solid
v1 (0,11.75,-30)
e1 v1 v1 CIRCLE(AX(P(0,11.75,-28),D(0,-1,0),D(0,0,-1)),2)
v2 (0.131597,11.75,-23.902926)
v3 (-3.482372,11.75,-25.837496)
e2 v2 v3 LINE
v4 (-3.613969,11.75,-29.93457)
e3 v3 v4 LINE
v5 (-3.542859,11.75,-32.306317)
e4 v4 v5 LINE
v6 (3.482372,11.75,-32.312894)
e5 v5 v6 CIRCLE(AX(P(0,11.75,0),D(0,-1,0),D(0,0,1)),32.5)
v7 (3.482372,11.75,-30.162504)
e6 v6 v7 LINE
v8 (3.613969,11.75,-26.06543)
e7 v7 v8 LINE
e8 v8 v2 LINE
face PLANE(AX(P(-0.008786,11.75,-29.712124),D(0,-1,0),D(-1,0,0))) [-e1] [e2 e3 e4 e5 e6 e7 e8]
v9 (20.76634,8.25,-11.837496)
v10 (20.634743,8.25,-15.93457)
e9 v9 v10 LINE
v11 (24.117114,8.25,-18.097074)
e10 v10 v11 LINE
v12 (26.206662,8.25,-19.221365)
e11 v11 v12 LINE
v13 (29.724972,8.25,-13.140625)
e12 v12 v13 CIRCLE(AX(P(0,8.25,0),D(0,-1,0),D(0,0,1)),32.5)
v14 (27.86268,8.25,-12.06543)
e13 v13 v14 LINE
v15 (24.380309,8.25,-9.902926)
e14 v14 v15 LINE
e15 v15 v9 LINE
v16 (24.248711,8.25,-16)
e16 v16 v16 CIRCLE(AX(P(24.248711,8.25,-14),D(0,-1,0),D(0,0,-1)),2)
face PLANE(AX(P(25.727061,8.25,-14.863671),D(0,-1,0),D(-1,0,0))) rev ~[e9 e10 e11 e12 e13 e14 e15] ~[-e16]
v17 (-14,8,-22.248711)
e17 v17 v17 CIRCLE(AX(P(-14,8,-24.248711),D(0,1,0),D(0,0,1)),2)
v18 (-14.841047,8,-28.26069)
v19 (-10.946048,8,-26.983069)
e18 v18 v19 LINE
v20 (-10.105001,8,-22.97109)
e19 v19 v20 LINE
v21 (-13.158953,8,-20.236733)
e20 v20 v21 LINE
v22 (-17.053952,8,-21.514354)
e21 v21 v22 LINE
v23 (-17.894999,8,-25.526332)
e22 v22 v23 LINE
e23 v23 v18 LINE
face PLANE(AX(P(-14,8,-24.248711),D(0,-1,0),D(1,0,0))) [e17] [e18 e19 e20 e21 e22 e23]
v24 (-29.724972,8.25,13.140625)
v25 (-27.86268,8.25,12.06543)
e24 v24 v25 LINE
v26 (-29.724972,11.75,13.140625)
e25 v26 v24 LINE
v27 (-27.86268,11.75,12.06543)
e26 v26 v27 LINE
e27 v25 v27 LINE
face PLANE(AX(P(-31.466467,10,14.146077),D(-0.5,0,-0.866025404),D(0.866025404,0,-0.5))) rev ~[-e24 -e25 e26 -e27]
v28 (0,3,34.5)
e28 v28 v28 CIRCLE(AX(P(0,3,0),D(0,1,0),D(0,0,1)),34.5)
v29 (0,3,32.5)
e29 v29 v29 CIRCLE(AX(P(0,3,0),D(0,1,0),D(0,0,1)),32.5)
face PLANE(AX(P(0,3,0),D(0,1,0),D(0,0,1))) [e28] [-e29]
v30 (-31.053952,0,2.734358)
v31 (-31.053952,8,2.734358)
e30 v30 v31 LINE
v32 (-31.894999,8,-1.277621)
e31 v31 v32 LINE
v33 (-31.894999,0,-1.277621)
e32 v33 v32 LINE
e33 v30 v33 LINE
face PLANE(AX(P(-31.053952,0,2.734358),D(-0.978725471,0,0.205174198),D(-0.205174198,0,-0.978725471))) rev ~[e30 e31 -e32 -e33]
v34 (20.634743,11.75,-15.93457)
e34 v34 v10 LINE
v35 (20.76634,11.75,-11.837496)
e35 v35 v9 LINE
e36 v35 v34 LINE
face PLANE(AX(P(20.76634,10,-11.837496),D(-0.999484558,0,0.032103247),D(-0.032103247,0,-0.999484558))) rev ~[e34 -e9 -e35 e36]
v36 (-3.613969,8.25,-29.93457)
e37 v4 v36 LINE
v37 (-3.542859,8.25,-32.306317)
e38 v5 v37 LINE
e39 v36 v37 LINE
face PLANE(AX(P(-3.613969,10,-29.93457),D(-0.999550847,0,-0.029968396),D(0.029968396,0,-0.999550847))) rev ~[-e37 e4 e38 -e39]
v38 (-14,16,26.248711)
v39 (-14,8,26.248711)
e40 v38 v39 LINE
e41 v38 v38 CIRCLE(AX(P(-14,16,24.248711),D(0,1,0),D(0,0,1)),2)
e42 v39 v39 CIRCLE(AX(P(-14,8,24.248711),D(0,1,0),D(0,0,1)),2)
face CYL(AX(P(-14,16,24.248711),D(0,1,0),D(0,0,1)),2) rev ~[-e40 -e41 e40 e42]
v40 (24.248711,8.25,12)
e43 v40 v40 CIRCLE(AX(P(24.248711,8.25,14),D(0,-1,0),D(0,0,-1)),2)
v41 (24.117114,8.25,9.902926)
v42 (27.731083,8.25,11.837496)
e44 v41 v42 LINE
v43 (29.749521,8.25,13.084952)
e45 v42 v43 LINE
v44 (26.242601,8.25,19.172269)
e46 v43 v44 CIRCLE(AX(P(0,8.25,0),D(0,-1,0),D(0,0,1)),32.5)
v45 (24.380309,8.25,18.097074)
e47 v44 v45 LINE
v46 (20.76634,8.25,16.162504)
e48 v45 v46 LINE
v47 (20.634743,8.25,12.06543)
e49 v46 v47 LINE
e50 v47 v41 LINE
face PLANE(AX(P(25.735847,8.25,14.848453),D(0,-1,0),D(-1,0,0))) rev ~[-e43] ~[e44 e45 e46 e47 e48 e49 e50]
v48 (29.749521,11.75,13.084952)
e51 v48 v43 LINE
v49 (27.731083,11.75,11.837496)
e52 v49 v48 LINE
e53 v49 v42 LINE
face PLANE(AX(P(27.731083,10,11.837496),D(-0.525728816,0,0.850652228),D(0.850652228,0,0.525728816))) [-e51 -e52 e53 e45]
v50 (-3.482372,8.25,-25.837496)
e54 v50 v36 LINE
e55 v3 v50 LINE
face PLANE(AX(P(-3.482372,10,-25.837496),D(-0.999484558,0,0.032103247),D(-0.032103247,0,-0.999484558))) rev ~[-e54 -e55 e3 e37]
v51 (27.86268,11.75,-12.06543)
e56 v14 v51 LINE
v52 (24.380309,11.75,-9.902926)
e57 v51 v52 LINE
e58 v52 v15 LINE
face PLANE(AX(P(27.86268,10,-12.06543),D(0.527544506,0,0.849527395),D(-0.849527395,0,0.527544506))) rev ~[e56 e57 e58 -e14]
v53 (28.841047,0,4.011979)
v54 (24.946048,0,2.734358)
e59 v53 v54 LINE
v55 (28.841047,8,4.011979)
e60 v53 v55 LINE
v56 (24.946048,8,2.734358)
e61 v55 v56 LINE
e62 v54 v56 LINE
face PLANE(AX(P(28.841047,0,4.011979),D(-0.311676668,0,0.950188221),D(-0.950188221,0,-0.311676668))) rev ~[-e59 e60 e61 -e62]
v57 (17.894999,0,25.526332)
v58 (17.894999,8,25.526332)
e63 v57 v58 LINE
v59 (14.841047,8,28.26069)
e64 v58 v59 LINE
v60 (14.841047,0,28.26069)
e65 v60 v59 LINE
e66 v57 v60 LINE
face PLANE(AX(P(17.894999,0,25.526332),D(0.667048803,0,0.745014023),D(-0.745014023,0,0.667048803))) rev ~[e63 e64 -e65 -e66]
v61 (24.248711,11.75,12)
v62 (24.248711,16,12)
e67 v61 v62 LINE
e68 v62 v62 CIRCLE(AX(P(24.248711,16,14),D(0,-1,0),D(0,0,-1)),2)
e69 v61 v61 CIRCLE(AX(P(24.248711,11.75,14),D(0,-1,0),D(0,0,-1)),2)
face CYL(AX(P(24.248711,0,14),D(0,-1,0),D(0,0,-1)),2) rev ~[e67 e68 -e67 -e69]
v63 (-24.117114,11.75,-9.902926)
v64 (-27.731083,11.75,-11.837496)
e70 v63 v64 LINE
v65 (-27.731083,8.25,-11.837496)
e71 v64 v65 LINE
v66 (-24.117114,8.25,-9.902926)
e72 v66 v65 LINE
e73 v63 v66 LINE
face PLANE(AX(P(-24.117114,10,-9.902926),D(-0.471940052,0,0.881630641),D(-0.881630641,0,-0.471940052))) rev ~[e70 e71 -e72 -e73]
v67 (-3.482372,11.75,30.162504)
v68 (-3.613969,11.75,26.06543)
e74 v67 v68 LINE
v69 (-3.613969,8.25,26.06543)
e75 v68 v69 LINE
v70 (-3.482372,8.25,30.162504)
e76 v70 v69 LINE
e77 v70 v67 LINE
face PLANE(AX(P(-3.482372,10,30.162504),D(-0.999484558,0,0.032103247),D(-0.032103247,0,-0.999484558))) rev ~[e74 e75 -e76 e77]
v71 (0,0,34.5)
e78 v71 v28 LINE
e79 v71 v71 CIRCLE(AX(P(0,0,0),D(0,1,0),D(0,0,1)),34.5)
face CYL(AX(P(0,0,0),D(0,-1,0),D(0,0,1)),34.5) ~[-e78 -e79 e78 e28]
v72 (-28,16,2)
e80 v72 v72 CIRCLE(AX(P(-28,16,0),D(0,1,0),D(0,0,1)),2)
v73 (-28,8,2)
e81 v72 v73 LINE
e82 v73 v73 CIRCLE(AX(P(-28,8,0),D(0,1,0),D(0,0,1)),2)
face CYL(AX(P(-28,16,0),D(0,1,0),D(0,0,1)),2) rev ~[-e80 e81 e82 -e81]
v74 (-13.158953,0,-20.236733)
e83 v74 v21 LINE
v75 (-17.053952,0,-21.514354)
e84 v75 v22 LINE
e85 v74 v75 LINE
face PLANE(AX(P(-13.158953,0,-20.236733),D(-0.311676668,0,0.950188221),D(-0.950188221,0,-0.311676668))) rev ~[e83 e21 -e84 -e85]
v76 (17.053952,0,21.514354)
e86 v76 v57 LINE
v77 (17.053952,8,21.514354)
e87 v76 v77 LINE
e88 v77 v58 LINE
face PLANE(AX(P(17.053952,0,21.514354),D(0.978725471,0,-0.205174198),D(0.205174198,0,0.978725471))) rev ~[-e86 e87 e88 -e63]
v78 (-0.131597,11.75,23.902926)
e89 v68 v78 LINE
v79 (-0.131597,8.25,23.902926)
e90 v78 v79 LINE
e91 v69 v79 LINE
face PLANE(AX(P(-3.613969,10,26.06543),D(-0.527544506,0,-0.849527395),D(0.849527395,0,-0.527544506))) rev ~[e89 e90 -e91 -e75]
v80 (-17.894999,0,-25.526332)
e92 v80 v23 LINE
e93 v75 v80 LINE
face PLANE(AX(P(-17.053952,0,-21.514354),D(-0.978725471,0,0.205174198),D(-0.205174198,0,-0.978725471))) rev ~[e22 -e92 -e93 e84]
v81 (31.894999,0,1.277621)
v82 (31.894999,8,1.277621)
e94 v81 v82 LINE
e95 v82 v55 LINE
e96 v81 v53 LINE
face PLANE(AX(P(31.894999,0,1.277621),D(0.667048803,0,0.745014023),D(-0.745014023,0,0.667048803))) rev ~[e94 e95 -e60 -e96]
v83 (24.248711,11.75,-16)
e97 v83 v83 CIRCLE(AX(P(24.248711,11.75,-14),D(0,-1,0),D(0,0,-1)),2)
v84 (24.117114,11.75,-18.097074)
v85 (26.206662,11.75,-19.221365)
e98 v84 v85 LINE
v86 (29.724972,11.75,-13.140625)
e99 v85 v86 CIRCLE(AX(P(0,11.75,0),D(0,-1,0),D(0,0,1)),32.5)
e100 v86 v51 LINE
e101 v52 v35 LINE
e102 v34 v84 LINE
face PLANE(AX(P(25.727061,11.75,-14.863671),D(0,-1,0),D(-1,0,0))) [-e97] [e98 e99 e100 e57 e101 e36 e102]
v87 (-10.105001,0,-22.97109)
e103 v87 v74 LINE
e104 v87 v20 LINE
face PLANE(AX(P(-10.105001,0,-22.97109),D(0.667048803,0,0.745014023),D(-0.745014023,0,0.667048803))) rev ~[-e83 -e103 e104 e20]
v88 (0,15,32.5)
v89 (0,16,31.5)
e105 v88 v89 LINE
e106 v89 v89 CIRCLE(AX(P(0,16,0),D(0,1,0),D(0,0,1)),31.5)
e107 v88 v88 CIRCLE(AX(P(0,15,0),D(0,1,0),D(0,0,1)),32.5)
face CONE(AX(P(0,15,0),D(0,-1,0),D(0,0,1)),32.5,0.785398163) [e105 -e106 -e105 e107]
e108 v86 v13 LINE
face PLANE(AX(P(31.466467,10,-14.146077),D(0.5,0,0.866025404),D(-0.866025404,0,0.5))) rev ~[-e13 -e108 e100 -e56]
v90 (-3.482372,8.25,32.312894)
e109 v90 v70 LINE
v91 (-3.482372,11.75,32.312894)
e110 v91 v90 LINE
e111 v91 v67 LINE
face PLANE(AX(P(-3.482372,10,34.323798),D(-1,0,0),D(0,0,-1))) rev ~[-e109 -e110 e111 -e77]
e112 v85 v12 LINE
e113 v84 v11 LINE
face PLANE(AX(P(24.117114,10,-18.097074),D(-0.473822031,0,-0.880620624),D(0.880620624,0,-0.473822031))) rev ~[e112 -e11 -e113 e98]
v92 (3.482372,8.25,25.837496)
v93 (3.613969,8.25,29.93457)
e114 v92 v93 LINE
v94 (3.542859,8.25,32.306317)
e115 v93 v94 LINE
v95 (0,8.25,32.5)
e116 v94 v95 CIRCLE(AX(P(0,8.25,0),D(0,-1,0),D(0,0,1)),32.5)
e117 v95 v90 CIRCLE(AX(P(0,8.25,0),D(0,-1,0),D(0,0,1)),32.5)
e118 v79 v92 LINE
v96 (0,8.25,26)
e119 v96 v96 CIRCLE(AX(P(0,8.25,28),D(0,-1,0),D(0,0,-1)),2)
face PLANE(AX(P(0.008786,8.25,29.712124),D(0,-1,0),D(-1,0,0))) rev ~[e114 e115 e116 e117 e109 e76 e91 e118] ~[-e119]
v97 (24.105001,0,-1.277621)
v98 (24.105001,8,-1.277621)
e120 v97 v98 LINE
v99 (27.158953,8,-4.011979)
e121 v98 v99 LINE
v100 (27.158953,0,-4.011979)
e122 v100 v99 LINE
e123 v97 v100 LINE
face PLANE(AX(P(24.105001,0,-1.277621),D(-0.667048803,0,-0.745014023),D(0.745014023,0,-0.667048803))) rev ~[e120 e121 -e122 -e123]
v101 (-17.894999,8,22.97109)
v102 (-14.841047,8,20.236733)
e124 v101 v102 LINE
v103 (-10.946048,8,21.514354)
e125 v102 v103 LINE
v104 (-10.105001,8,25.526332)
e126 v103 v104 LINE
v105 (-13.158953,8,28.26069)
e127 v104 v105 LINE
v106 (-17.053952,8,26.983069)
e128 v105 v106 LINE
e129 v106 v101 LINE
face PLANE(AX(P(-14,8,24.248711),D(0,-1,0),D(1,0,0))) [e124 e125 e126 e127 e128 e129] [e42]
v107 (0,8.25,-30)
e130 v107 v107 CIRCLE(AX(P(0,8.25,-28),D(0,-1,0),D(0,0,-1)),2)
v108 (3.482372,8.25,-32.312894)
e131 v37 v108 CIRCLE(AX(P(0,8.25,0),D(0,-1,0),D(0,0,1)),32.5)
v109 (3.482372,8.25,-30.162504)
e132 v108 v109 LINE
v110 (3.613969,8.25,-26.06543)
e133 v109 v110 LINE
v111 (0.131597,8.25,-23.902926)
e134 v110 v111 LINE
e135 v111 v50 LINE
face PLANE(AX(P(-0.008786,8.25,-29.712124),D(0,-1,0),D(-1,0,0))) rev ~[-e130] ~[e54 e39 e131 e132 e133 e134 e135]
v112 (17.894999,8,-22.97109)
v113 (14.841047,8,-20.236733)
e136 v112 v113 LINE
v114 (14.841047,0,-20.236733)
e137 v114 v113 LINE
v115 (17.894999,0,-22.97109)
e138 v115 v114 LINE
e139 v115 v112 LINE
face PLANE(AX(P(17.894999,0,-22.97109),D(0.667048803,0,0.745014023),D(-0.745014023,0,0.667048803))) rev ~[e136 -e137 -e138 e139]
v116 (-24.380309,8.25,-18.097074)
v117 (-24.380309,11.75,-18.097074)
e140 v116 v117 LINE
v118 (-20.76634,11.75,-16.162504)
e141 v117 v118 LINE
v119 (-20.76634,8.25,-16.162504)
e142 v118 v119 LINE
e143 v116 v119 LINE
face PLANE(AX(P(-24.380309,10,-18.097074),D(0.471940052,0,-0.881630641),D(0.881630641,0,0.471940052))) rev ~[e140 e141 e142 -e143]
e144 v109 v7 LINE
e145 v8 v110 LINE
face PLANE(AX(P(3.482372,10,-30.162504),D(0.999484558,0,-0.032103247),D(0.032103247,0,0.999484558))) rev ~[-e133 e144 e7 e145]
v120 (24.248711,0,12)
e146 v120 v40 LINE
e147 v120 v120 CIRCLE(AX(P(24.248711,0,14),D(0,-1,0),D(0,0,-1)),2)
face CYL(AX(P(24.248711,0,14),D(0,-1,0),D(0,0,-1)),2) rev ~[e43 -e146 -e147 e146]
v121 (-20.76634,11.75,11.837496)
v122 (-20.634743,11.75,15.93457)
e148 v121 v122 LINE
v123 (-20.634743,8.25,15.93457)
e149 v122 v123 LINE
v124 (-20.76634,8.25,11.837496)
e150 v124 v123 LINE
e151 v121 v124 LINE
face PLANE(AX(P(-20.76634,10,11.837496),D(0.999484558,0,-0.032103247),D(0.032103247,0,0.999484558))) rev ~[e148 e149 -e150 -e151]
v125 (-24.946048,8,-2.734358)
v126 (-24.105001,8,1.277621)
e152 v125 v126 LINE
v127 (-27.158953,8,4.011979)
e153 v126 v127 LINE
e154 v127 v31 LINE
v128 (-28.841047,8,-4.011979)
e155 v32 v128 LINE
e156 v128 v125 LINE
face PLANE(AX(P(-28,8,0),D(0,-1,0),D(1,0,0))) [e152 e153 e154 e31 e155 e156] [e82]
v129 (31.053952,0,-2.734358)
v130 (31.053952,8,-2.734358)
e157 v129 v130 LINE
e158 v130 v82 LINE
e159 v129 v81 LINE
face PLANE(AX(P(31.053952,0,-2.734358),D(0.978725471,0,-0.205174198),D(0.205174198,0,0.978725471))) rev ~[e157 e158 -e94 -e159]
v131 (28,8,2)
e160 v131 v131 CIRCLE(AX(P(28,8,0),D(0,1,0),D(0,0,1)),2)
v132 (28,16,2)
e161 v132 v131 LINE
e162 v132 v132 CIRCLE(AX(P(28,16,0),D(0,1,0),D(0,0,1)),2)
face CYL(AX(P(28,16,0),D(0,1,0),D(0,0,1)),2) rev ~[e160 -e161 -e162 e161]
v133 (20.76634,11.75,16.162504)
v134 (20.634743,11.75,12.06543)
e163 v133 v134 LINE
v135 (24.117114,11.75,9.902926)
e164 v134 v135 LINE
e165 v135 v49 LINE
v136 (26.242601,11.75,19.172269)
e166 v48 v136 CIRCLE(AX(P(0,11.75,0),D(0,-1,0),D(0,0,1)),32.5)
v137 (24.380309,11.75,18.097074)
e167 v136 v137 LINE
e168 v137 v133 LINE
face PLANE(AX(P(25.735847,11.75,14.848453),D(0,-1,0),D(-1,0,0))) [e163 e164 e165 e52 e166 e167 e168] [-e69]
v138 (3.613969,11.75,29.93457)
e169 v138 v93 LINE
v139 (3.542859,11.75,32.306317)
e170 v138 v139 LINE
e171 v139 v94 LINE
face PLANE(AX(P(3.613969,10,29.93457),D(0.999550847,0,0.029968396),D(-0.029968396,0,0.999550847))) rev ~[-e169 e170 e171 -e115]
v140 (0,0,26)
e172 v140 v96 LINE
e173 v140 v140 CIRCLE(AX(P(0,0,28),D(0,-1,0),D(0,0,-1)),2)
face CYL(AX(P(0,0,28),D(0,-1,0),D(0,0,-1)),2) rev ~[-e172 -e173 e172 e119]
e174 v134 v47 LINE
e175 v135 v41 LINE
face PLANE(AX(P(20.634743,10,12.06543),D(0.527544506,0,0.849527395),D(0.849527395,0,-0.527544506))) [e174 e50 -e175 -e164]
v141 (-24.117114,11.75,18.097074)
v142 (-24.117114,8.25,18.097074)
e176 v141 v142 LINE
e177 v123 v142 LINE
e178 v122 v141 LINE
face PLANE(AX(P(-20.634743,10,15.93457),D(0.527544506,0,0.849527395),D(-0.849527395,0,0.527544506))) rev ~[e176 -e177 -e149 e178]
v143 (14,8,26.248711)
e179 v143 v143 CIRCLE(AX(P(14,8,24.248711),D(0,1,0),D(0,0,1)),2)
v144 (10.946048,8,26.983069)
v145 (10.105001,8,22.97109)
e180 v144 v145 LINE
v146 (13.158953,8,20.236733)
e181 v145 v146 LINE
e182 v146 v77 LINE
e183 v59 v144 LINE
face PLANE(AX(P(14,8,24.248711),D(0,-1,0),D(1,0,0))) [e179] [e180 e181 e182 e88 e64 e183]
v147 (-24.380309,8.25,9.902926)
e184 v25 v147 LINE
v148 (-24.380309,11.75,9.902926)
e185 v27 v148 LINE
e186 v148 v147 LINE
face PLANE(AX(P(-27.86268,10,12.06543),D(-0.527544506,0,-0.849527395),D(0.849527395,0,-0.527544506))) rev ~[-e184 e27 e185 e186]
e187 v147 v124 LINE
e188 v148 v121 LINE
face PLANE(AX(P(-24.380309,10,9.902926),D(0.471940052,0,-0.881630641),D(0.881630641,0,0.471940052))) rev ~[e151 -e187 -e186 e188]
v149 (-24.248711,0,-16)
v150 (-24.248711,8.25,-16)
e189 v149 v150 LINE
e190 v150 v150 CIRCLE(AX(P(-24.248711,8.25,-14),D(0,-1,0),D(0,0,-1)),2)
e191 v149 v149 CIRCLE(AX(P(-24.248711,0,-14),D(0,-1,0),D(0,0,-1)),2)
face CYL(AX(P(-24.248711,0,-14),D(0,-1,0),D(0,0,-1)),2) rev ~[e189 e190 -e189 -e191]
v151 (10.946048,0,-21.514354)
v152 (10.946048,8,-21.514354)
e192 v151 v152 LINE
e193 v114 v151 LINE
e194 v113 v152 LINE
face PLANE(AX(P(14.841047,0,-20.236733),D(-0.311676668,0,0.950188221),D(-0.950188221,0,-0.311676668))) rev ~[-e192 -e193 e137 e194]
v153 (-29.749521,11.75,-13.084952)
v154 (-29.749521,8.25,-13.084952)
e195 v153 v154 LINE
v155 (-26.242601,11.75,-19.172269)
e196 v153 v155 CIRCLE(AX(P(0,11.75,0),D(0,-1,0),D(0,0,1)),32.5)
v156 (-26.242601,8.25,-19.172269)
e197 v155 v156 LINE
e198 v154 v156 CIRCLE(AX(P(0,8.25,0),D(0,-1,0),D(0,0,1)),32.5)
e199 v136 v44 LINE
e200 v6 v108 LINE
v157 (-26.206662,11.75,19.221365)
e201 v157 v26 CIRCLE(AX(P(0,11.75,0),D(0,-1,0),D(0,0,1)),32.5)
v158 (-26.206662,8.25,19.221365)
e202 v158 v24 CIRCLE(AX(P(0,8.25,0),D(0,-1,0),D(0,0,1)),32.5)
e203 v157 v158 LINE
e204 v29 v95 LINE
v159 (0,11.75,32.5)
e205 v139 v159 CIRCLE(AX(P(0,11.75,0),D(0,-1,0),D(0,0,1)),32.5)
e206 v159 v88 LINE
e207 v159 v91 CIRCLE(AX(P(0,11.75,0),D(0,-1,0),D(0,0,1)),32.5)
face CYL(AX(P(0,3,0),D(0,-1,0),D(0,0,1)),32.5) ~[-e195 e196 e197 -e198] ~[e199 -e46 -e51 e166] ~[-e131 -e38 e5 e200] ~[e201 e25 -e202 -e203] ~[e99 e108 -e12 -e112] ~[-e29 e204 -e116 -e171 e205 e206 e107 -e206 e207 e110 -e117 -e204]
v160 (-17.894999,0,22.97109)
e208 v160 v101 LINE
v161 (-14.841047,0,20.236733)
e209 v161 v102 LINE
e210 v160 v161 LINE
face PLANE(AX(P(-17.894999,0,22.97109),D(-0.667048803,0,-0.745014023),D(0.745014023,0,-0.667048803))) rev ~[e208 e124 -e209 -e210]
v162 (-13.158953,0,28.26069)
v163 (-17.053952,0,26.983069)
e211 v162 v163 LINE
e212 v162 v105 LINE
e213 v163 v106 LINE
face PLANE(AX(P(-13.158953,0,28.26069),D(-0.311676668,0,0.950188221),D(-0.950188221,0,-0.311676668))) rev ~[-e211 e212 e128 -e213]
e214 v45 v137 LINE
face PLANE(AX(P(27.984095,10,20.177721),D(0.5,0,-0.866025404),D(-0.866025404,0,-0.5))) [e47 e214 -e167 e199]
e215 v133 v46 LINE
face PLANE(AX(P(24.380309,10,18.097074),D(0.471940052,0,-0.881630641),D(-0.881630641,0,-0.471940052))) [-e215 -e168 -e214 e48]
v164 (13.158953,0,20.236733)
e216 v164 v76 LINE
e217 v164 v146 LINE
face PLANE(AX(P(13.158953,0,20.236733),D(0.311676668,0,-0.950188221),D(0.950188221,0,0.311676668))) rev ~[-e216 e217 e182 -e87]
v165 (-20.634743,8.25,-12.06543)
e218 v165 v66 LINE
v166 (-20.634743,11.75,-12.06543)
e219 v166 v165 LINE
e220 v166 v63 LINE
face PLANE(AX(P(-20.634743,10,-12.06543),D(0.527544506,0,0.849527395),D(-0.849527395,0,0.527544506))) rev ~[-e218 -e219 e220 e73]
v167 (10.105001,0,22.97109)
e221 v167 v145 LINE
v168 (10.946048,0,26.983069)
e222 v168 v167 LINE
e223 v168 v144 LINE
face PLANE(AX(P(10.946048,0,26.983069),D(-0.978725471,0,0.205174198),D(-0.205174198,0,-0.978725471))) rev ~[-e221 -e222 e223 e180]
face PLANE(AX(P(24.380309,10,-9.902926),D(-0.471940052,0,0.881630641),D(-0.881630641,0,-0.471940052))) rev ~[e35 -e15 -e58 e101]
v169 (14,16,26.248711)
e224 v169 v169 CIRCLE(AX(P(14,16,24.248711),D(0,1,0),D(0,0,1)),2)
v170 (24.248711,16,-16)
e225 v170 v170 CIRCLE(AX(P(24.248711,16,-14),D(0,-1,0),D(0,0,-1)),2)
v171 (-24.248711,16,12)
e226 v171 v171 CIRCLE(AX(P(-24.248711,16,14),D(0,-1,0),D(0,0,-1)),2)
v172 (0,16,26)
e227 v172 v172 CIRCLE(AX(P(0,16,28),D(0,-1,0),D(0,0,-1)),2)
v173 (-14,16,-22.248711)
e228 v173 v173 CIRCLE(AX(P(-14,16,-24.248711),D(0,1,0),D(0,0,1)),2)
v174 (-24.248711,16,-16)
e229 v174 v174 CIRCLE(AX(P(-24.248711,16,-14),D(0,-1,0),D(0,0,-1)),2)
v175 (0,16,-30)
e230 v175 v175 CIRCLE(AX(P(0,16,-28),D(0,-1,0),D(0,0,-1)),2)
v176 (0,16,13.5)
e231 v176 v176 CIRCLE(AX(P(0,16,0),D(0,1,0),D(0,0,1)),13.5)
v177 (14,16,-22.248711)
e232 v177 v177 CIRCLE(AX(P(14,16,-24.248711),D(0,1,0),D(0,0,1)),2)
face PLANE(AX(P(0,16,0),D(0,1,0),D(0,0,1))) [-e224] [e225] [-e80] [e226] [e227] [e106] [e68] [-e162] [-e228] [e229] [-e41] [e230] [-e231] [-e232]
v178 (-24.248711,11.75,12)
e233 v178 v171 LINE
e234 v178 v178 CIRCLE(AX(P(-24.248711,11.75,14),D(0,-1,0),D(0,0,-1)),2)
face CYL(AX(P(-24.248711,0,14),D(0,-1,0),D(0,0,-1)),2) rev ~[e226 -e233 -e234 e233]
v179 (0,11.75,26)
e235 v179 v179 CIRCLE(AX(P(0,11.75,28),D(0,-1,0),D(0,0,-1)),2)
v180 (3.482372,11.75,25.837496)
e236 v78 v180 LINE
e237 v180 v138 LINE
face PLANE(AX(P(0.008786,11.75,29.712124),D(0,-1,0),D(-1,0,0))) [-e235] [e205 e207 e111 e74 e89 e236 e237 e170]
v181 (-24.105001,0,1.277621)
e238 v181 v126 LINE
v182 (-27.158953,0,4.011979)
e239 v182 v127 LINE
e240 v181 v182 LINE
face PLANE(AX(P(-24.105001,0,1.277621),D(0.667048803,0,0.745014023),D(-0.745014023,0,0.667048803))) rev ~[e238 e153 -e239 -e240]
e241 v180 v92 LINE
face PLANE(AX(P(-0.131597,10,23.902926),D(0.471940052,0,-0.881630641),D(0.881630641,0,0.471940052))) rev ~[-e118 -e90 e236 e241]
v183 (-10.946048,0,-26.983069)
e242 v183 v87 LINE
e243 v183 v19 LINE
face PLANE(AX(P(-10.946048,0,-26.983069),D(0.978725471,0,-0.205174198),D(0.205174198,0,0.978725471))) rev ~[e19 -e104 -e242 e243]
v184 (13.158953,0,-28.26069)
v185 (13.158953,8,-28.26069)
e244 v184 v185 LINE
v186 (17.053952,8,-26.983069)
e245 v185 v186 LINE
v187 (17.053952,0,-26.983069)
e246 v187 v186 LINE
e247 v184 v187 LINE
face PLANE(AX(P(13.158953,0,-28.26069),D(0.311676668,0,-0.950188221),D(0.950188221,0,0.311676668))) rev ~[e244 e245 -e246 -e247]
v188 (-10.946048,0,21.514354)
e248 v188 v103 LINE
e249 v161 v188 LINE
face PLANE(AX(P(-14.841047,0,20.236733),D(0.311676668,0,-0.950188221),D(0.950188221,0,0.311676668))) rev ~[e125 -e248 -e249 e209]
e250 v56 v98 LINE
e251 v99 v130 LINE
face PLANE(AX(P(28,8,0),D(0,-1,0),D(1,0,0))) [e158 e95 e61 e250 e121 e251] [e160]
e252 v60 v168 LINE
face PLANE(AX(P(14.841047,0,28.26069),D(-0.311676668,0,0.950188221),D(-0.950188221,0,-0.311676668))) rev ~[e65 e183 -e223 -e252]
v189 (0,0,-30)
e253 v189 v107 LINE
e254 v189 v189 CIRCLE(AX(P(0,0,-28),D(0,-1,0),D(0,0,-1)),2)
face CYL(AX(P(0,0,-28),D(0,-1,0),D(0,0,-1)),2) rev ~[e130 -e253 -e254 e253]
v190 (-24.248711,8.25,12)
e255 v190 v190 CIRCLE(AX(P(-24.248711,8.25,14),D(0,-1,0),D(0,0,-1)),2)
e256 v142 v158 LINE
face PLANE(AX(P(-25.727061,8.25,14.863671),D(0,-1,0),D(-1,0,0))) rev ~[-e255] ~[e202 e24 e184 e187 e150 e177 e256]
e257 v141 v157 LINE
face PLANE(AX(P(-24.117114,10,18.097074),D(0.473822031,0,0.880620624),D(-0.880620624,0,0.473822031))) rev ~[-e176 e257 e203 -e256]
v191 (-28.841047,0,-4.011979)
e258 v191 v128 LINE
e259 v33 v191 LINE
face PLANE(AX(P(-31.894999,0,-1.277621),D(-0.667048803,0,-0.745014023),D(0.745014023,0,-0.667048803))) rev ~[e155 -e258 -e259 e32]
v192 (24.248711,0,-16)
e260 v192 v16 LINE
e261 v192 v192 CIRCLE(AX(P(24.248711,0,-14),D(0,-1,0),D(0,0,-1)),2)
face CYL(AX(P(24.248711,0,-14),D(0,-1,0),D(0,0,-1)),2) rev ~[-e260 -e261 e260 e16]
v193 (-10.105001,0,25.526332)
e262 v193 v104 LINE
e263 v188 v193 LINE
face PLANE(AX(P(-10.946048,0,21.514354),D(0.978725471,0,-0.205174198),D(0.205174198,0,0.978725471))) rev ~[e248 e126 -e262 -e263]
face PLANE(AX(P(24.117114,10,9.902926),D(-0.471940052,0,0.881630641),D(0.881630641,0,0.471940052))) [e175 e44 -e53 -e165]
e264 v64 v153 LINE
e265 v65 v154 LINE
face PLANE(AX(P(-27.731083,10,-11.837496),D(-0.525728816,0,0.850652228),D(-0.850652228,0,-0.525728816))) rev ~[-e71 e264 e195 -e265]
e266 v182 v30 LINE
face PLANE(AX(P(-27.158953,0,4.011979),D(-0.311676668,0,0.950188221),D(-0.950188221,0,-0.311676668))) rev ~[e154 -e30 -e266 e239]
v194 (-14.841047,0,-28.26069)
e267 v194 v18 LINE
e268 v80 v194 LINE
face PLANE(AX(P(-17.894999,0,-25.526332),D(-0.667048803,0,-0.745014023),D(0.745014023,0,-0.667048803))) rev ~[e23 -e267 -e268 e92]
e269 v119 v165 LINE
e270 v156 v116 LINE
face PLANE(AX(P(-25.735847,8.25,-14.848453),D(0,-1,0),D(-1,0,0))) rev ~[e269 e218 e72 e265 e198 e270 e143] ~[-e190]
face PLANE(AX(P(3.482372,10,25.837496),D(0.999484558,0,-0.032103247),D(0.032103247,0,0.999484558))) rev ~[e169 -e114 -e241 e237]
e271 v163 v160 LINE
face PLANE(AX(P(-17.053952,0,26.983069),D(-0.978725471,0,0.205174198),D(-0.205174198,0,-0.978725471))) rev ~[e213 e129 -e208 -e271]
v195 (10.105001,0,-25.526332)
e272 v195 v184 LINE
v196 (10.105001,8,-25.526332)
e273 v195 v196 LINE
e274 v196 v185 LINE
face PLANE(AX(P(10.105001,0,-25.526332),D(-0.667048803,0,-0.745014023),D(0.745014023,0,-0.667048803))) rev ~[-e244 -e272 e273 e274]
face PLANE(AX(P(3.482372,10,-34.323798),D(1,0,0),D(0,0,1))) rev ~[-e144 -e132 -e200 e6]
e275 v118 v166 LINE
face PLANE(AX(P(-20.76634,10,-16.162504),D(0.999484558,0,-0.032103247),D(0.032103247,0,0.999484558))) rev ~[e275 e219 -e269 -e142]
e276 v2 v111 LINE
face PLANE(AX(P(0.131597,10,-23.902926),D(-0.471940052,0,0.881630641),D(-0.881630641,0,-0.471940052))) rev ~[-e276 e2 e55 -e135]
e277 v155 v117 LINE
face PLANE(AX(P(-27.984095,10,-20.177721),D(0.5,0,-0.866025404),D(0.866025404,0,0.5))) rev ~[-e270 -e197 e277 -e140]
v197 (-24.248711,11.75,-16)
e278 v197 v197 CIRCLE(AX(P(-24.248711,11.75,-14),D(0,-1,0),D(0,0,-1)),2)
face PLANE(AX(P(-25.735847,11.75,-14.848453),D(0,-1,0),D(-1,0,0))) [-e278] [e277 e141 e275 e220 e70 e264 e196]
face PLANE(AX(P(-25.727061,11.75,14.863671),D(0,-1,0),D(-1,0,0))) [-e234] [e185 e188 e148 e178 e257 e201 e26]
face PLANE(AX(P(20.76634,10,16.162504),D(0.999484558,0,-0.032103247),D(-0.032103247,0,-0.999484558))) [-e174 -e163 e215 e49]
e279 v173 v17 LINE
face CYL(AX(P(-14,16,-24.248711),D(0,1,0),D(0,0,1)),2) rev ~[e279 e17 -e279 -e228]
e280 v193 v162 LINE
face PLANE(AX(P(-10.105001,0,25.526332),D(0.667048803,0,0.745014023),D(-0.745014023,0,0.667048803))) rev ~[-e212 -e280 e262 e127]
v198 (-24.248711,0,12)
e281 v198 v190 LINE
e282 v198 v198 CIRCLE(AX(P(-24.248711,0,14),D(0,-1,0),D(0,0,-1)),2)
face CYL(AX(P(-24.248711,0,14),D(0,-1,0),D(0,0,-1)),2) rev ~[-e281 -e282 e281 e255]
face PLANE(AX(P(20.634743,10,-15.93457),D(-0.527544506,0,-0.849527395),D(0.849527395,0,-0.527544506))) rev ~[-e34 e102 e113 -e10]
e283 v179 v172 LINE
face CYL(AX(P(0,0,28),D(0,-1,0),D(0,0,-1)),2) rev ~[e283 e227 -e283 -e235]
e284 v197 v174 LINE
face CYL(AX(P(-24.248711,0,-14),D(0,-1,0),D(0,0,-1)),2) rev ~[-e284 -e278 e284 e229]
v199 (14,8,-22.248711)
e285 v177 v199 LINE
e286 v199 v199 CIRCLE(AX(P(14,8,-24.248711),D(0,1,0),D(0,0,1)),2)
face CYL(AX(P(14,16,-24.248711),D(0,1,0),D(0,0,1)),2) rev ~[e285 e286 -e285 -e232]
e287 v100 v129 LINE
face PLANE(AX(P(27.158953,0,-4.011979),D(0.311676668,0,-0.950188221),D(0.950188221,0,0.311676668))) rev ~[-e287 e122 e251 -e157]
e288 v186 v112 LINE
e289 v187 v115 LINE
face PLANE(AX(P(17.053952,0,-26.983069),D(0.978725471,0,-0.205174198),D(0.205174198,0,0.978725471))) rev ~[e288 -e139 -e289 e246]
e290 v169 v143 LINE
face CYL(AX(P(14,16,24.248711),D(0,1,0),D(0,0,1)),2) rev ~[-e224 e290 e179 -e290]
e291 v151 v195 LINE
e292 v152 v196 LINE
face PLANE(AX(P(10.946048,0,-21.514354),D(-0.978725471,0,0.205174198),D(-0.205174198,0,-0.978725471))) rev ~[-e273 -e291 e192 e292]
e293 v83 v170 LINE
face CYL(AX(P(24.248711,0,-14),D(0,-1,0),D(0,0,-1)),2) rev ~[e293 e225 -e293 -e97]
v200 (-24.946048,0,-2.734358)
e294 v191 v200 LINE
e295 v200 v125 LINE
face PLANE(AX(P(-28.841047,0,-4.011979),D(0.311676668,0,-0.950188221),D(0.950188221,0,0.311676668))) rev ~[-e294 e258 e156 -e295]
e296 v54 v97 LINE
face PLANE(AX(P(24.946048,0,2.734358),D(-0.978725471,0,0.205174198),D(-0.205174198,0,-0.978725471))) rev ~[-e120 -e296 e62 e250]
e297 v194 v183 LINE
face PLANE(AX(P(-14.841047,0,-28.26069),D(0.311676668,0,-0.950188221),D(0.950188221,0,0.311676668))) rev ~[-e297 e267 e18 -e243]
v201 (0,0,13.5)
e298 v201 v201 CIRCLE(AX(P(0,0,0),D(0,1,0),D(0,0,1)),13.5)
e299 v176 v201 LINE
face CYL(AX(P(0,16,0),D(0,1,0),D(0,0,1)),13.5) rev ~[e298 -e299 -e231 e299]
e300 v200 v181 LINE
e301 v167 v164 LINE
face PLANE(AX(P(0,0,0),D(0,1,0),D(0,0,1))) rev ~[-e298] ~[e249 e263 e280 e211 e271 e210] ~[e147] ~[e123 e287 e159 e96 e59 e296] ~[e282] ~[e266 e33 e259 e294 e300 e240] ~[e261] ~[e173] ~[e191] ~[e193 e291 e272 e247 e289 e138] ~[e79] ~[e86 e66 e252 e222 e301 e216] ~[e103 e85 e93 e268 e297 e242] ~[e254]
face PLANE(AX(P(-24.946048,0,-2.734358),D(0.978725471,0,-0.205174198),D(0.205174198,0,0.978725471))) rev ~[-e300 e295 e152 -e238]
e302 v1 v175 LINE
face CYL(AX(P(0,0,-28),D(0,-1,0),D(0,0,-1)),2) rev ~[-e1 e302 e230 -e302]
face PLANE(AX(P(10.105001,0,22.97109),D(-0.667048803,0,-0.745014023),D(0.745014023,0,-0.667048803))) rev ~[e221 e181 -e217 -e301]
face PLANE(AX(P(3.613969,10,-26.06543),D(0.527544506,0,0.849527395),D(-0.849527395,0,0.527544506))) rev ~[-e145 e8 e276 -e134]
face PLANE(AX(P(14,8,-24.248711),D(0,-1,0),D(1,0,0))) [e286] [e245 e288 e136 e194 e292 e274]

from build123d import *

# Parameters (mm, degrees)
SKETCH_1_R          = 34.5
EXTRUDE_1_DEPTH     = 16
CUT_EXTRUDE_START   = -13
SKETCH_2_R          = 34.5
SKETCH_2_R_2        = 32.5
CUT_EXTRUDE_1_DEPTH = 13
SKETCH_3_R          = 2
CUT_EXTRUDE_3_DEPTH = 52.34685969
SKETCH_7_R          = 13.5
CUT_EXTRUDE_6_DEPTH = 52.34685969
CUT_EXTRUDE_7_DEPTH = 8
CHAMFER_4_SIZE      = 1
CUT_EXTRUDE_8_DEPTH = 1.75
CUT_EXTRUDE_9_REACH = 53.347
SKETCH_11_R         = 2


with BuildPart() as part:
    # 草图1 → 凸台-拉伸1 (new body)
    with BuildSketch(Plane(origin=(0, 0, 0), x_dir=(1, 0, 0), z_dir=(0, 1, 0))):
        with Locations(Location((0, 0, 0), (0, 0, 270))):
            Circle(SKETCH_1_R)
    extrude(amount=EXTRUDE_1_DEPTH)

    # 草图2 → 切除-拉伸1 (cut)
    with BuildSketch(Plane(origin=(0, 16, 0), x_dir=(1, 0, 0), z_dir=(0, 1, 0)).offset(CUT_EXTRUDE_START)):
        with Locations(Location((0, 0, 0), (0, 0, 270))):
            Circle(SKETCH_2_R)
        with Locations(Location((0, 0, 0), (0, 0, 270))):
            Circle(SKETCH_2_R_2, mode=Mode.SUBTRACT)
    extrude(amount=CUT_EXTRUDE_1_DEPTH, mode=Mode.SUBTRACT)

    # 草图3 → 切除-拉伸3 (cut, through all)
    with BuildSketch(Plane(origin=(0, 16, 0), x_dir=(1, 0, 0), z_dir=(0, 1, 0))):
        with Locations(Location((-28, 0, 0), (0, 0, 270))):
            Circle(SKETCH_3_R)
        with Locations(Location((-14, 24.248711306, 0), (0, 0, 270))):
            Circle(SKETCH_3_R)
        with Locations(Location((14, 24.248711306, 0), (0, 0, 270))):
            Circle(SKETCH_3_R)
        with Locations(Location((28, 0, 0), (0, 0, 270))):
            Circle(SKETCH_3_R)
        with Locations(Location((14, -24.248711306, 0), (0, 0, 270))):
            Circle(SKETCH_3_R)
        with Locations(Location((-14, -24.248711306, 0), (0, 0, 270))):
            Circle(SKETCH_3_R)
    extrude(amount=-CUT_EXTRUDE_3_DEPTH, mode=Mode.SUBTRACT)

    # 草图7 → 切除-拉伸6 (cut, through all)
    with BuildSketch(Plane(origin=(0, 16, 0), x_dir=(1, 0, 0), z_dir=(0, 1, 0))):
        with Locations(Location((0, 0, 0), (0, 0, 270))):
            Circle(SKETCH_7_R)
    extrude(amount=-CUT_EXTRUDE_6_DEPTH, mode=Mode.SUBTRACT)

    # 草图8 → 切除-拉伸7 (cut)
    with BuildSketch(Plane.XZ):
        Polygon((14.841047387, -20.236732664), (10.94604827, -21.514353582), (10.105000883, -25.526332224), (13.158952613, -28.260689948), (17.05395173, -26.98306903), (17.894999117, -22.971090388), align=None)
        Polygon((31.894999117, 1.277620918), (28.841047387, 4.011978642), (24.94604827, 2.734357724), (24.105000883, -1.277620918), (27.158952613, -4.011978642), (31.05395173, -2.734357724), align=None)
        Polygon((-10.105000883, -22.971090388), (-13.158952613, -20.236732664), (-17.05395173, -21.514353582), (-17.894999117, -25.526332224), (-14.841047387, -28.260689948), (-10.94604827, -26.98306903), align=None)
        Polygon((-24.94604827, -2.734357724), (-24.105000883, 1.277620918), (-27.158952613, 4.011978642), (-31.05395173, 2.734357724), (-31.894999117, -1.277620918), (-28.841047387, -4.011978642), align=None)
        Polygon((-14.841047387, 20.236732664), (-10.94604827, 21.514353582), (-10.105000883, 25.526332224), (-13.158952613, 28.260689948), (-17.05395173, 26.98306903), (-17.894999117, 22.971090388), align=None)
        Polygon((10.105000883, 22.971090388), (13.158952613, 20.236732664), (17.05395173, 21.514353582), (17.894999117, 25.526332224), (14.841047387, 28.260689948), (10.94604827, 26.98306903), align=None)
    extrude(amount=-CUT_EXTRUDE_7_DEPTH, mode=Mode.SUBTRACT)

    # 倒角4
    chamfer_4_edges = [part.edges().sort_by_distance(p)[0] for p in [
        (0, 16, -32.5),
    ]]
    chamfer(chamfer_4_edges, length=CHAMFER_4_SIZE)

    # 草图10 → 切除-拉伸8 (cut, symmetric)
    with BuildSketch(Plane(origin=(0, 10, 0), x_dir=(1, 0, 0), z_dir=(0, 1, 0))):
        Polygon((-3.482371577, -30.162503534), (-3.613968785, -26.065429516), (-0.131597208, -23.902925982), (3.482371577, -25.837496466), (3.613968785, -29.934570484), (3.482371577, -34.323797695), (-3.482371577, -34.323797695), align=None)
        Polygon((-27.86268009, -12.065429516), (-24.380308514, -9.902925982), (-20.766339729, -11.837496466), (-20.634742521, -15.934570484), (-24.117114098, -18.097074018), (-27.98409497, -20.177721098), (-31.466466547, -14.146076596), align=None)
        Polygon((-24.380308514, 18.097074018), (-20.766339729, 16.162503534), (-20.634742521, 12.065429516), (-24.117114098, 9.902925982), (-27.731082883, 11.837496466), (-31.466466547, 14.146076596), (-27.98409497, 20.177721098), align=None)
        Polygon((3.482371577, 30.162503534), (3.613968785, 26.065429516), (0.131597208, 23.902925982), (-3.482371577, 25.837496466), (-3.613968785, 29.934570484), (-3.482371577, 34.323797695), (3.482371577, 34.323797695), align=None)
        Polygon((27.86268009, 12.065429516), (24.380308514, 9.902925982), (20.766339729, 11.837496466), (20.634742521, 15.934570484), (24.117114098, 18.097074018), (27.98409497, 20.177721098), (31.466466547, 14.146076596), align=None)
        Polygon((24.380308514, -18.097074018), (20.766339729, -16.162503534), (20.634742521, -12.065429516), (24.117114098, -9.902925982), (27.731082883, -11.837496466), (31.466466547, -14.146076596), (27.98409497, -20.177721098), align=None)
    extrude(amount=CUT_EXTRUDE_8_DEPTH, both=True, mode=Mode.SUBTRACT)

    # 切除-拉伸9: up to this face of the body (flat: up to its plane)
    cut_extrude_9_end = Plane(part.part.faces().sort_by_distance((0, 16, -30.609045456))[0])
    # 草图11 → 切除-拉伸9 (cut, up to the picked face)
    with BuildSketch(Plane.XZ, mode=Mode.PRIVATE) as cut_extrude_9_sk1:
        with Locations(Location((0, 28, 0), (0, 0, 270))):
            Circle(SKETCH_11_R)
    cut_extrude_9_tool1 = split(extrude(cut_extrude_9_sk1.sketch, amount=-CUT_EXTRUDE_9_REACH, mode=Mode.PRIVATE), bisect_by=cut_extrude_9_end, keep=Keep.BOTH, mode=Mode.PRIVATE)
    # 草图11 → 切除-拉伸9 (cut, up to the picked face)
    with BuildSketch(Plane.XZ, mode=Mode.PRIVATE) as cut_extrude_9_sk2:
        with Locations(Location((24.248711306, 14, 0), (0, 0, 270))):
            Circle(SKETCH_11_R)
    cut_extrude_9_tool2 = split(extrude(cut_extrude_9_sk2.sketch, amount=-CUT_EXTRUDE_9_REACH, mode=Mode.PRIVATE), bisect_by=cut_extrude_9_end, keep=Keep.BOTH, mode=Mode.PRIVATE)
    # 草图11 → 切除-拉伸9 (cut, up to the picked face)
    with BuildSketch(Plane.XZ, mode=Mode.PRIVATE) as cut_extrude_9_sk3:
        with Locations(Location((24.248711306, -14, 0), (0, 0, 270))):
            Circle(SKETCH_11_R)
    cut_extrude_9_tool3 = split(extrude(cut_extrude_9_sk3.sketch, amount=-CUT_EXTRUDE_9_REACH, mode=Mode.PRIVATE), bisect_by=cut_extrude_9_end, keep=Keep.BOTH, mode=Mode.PRIVATE)
    # 草图11 → 切除-拉伸9 (cut, up to the picked face)
    with BuildSketch(Plane.XZ, mode=Mode.PRIVATE) as cut_extrude_9_sk4:
        with Locations(Location((0, -28, 0), (0, 0, 270))):
            Circle(SKETCH_11_R)
    cut_extrude_9_tool4 = split(extrude(cut_extrude_9_sk4.sketch, amount=-CUT_EXTRUDE_9_REACH, mode=Mode.PRIVATE), bisect_by=cut_extrude_9_end, keep=Keep.BOTH, mode=Mode.PRIVATE)
    # 草图11 → 切除-拉伸9 (cut, up to the picked face)
    with BuildSketch(Plane.XZ, mode=Mode.PRIVATE) as cut_extrude_9_sk5:
        with Locations(Location((-24.248711306, -14, 0), (0, 0, 270))):
            Circle(SKETCH_11_R)
    cut_extrude_9_tool5 = split(extrude(cut_extrude_9_sk5.sketch, amount=-CUT_EXTRUDE_9_REACH, mode=Mode.PRIVATE), bisect_by=cut_extrude_9_end, keep=Keep.BOTH, mode=Mode.PRIVATE)
    # 草图11 → 切除-拉伸9 (cut, up to the picked face)
    with BuildSketch(Plane.XZ, mode=Mode.PRIVATE) as cut_extrude_9_sk6:
        with Locations(Location((-24.248711306, 14, 0), (0, 0, 270))):
            Circle(SKETCH_11_R)
    cut_extrude_9_tool6 = split(extrude(cut_extrude_9_sk6.sketch, amount=-CUT_EXTRUDE_9_REACH, mode=Mode.PRIVATE), bisect_by=cut_extrude_9_end, keep=Keep.BOTH, mode=Mode.PRIVATE)
    add(cut_extrude_9_tool1.solids().sort_by(Axis((0, 0, 28), (0, 1, 0)))[0], mode=Mode.SUBTRACT)
    add(cut_extrude_9_tool2.solids().sort_by(Axis((24.248711, 0, 14), (0, 1, 0)))[0], mode=Mode.SUBTRACT)
    add(cut_extrude_9_tool3.solids().sort_by(Axis((24.248711, 0, -14), (0, 1, 0)))[0], mode=Mode.SUBTRACT)
    add(cut_extrude_9_tool4.solids().sort_by(Axis((0, 0, -28), (0, 1, 0)))[0], mode=Mode.SUBTRACT)
    add(cut_extrude_9_tool5.solids().sort_by(Axis((-24.248711, 0, -14), (0, 1, 0)))[0], mode=Mode.SUBTRACT)
    add(cut_extrude_9_tool6.solids().sort_by(Axis((-24.248711, 0, 14), (0, 1, 0)))[0], mode=Mode.SUBTRACT)


solid = part.part
